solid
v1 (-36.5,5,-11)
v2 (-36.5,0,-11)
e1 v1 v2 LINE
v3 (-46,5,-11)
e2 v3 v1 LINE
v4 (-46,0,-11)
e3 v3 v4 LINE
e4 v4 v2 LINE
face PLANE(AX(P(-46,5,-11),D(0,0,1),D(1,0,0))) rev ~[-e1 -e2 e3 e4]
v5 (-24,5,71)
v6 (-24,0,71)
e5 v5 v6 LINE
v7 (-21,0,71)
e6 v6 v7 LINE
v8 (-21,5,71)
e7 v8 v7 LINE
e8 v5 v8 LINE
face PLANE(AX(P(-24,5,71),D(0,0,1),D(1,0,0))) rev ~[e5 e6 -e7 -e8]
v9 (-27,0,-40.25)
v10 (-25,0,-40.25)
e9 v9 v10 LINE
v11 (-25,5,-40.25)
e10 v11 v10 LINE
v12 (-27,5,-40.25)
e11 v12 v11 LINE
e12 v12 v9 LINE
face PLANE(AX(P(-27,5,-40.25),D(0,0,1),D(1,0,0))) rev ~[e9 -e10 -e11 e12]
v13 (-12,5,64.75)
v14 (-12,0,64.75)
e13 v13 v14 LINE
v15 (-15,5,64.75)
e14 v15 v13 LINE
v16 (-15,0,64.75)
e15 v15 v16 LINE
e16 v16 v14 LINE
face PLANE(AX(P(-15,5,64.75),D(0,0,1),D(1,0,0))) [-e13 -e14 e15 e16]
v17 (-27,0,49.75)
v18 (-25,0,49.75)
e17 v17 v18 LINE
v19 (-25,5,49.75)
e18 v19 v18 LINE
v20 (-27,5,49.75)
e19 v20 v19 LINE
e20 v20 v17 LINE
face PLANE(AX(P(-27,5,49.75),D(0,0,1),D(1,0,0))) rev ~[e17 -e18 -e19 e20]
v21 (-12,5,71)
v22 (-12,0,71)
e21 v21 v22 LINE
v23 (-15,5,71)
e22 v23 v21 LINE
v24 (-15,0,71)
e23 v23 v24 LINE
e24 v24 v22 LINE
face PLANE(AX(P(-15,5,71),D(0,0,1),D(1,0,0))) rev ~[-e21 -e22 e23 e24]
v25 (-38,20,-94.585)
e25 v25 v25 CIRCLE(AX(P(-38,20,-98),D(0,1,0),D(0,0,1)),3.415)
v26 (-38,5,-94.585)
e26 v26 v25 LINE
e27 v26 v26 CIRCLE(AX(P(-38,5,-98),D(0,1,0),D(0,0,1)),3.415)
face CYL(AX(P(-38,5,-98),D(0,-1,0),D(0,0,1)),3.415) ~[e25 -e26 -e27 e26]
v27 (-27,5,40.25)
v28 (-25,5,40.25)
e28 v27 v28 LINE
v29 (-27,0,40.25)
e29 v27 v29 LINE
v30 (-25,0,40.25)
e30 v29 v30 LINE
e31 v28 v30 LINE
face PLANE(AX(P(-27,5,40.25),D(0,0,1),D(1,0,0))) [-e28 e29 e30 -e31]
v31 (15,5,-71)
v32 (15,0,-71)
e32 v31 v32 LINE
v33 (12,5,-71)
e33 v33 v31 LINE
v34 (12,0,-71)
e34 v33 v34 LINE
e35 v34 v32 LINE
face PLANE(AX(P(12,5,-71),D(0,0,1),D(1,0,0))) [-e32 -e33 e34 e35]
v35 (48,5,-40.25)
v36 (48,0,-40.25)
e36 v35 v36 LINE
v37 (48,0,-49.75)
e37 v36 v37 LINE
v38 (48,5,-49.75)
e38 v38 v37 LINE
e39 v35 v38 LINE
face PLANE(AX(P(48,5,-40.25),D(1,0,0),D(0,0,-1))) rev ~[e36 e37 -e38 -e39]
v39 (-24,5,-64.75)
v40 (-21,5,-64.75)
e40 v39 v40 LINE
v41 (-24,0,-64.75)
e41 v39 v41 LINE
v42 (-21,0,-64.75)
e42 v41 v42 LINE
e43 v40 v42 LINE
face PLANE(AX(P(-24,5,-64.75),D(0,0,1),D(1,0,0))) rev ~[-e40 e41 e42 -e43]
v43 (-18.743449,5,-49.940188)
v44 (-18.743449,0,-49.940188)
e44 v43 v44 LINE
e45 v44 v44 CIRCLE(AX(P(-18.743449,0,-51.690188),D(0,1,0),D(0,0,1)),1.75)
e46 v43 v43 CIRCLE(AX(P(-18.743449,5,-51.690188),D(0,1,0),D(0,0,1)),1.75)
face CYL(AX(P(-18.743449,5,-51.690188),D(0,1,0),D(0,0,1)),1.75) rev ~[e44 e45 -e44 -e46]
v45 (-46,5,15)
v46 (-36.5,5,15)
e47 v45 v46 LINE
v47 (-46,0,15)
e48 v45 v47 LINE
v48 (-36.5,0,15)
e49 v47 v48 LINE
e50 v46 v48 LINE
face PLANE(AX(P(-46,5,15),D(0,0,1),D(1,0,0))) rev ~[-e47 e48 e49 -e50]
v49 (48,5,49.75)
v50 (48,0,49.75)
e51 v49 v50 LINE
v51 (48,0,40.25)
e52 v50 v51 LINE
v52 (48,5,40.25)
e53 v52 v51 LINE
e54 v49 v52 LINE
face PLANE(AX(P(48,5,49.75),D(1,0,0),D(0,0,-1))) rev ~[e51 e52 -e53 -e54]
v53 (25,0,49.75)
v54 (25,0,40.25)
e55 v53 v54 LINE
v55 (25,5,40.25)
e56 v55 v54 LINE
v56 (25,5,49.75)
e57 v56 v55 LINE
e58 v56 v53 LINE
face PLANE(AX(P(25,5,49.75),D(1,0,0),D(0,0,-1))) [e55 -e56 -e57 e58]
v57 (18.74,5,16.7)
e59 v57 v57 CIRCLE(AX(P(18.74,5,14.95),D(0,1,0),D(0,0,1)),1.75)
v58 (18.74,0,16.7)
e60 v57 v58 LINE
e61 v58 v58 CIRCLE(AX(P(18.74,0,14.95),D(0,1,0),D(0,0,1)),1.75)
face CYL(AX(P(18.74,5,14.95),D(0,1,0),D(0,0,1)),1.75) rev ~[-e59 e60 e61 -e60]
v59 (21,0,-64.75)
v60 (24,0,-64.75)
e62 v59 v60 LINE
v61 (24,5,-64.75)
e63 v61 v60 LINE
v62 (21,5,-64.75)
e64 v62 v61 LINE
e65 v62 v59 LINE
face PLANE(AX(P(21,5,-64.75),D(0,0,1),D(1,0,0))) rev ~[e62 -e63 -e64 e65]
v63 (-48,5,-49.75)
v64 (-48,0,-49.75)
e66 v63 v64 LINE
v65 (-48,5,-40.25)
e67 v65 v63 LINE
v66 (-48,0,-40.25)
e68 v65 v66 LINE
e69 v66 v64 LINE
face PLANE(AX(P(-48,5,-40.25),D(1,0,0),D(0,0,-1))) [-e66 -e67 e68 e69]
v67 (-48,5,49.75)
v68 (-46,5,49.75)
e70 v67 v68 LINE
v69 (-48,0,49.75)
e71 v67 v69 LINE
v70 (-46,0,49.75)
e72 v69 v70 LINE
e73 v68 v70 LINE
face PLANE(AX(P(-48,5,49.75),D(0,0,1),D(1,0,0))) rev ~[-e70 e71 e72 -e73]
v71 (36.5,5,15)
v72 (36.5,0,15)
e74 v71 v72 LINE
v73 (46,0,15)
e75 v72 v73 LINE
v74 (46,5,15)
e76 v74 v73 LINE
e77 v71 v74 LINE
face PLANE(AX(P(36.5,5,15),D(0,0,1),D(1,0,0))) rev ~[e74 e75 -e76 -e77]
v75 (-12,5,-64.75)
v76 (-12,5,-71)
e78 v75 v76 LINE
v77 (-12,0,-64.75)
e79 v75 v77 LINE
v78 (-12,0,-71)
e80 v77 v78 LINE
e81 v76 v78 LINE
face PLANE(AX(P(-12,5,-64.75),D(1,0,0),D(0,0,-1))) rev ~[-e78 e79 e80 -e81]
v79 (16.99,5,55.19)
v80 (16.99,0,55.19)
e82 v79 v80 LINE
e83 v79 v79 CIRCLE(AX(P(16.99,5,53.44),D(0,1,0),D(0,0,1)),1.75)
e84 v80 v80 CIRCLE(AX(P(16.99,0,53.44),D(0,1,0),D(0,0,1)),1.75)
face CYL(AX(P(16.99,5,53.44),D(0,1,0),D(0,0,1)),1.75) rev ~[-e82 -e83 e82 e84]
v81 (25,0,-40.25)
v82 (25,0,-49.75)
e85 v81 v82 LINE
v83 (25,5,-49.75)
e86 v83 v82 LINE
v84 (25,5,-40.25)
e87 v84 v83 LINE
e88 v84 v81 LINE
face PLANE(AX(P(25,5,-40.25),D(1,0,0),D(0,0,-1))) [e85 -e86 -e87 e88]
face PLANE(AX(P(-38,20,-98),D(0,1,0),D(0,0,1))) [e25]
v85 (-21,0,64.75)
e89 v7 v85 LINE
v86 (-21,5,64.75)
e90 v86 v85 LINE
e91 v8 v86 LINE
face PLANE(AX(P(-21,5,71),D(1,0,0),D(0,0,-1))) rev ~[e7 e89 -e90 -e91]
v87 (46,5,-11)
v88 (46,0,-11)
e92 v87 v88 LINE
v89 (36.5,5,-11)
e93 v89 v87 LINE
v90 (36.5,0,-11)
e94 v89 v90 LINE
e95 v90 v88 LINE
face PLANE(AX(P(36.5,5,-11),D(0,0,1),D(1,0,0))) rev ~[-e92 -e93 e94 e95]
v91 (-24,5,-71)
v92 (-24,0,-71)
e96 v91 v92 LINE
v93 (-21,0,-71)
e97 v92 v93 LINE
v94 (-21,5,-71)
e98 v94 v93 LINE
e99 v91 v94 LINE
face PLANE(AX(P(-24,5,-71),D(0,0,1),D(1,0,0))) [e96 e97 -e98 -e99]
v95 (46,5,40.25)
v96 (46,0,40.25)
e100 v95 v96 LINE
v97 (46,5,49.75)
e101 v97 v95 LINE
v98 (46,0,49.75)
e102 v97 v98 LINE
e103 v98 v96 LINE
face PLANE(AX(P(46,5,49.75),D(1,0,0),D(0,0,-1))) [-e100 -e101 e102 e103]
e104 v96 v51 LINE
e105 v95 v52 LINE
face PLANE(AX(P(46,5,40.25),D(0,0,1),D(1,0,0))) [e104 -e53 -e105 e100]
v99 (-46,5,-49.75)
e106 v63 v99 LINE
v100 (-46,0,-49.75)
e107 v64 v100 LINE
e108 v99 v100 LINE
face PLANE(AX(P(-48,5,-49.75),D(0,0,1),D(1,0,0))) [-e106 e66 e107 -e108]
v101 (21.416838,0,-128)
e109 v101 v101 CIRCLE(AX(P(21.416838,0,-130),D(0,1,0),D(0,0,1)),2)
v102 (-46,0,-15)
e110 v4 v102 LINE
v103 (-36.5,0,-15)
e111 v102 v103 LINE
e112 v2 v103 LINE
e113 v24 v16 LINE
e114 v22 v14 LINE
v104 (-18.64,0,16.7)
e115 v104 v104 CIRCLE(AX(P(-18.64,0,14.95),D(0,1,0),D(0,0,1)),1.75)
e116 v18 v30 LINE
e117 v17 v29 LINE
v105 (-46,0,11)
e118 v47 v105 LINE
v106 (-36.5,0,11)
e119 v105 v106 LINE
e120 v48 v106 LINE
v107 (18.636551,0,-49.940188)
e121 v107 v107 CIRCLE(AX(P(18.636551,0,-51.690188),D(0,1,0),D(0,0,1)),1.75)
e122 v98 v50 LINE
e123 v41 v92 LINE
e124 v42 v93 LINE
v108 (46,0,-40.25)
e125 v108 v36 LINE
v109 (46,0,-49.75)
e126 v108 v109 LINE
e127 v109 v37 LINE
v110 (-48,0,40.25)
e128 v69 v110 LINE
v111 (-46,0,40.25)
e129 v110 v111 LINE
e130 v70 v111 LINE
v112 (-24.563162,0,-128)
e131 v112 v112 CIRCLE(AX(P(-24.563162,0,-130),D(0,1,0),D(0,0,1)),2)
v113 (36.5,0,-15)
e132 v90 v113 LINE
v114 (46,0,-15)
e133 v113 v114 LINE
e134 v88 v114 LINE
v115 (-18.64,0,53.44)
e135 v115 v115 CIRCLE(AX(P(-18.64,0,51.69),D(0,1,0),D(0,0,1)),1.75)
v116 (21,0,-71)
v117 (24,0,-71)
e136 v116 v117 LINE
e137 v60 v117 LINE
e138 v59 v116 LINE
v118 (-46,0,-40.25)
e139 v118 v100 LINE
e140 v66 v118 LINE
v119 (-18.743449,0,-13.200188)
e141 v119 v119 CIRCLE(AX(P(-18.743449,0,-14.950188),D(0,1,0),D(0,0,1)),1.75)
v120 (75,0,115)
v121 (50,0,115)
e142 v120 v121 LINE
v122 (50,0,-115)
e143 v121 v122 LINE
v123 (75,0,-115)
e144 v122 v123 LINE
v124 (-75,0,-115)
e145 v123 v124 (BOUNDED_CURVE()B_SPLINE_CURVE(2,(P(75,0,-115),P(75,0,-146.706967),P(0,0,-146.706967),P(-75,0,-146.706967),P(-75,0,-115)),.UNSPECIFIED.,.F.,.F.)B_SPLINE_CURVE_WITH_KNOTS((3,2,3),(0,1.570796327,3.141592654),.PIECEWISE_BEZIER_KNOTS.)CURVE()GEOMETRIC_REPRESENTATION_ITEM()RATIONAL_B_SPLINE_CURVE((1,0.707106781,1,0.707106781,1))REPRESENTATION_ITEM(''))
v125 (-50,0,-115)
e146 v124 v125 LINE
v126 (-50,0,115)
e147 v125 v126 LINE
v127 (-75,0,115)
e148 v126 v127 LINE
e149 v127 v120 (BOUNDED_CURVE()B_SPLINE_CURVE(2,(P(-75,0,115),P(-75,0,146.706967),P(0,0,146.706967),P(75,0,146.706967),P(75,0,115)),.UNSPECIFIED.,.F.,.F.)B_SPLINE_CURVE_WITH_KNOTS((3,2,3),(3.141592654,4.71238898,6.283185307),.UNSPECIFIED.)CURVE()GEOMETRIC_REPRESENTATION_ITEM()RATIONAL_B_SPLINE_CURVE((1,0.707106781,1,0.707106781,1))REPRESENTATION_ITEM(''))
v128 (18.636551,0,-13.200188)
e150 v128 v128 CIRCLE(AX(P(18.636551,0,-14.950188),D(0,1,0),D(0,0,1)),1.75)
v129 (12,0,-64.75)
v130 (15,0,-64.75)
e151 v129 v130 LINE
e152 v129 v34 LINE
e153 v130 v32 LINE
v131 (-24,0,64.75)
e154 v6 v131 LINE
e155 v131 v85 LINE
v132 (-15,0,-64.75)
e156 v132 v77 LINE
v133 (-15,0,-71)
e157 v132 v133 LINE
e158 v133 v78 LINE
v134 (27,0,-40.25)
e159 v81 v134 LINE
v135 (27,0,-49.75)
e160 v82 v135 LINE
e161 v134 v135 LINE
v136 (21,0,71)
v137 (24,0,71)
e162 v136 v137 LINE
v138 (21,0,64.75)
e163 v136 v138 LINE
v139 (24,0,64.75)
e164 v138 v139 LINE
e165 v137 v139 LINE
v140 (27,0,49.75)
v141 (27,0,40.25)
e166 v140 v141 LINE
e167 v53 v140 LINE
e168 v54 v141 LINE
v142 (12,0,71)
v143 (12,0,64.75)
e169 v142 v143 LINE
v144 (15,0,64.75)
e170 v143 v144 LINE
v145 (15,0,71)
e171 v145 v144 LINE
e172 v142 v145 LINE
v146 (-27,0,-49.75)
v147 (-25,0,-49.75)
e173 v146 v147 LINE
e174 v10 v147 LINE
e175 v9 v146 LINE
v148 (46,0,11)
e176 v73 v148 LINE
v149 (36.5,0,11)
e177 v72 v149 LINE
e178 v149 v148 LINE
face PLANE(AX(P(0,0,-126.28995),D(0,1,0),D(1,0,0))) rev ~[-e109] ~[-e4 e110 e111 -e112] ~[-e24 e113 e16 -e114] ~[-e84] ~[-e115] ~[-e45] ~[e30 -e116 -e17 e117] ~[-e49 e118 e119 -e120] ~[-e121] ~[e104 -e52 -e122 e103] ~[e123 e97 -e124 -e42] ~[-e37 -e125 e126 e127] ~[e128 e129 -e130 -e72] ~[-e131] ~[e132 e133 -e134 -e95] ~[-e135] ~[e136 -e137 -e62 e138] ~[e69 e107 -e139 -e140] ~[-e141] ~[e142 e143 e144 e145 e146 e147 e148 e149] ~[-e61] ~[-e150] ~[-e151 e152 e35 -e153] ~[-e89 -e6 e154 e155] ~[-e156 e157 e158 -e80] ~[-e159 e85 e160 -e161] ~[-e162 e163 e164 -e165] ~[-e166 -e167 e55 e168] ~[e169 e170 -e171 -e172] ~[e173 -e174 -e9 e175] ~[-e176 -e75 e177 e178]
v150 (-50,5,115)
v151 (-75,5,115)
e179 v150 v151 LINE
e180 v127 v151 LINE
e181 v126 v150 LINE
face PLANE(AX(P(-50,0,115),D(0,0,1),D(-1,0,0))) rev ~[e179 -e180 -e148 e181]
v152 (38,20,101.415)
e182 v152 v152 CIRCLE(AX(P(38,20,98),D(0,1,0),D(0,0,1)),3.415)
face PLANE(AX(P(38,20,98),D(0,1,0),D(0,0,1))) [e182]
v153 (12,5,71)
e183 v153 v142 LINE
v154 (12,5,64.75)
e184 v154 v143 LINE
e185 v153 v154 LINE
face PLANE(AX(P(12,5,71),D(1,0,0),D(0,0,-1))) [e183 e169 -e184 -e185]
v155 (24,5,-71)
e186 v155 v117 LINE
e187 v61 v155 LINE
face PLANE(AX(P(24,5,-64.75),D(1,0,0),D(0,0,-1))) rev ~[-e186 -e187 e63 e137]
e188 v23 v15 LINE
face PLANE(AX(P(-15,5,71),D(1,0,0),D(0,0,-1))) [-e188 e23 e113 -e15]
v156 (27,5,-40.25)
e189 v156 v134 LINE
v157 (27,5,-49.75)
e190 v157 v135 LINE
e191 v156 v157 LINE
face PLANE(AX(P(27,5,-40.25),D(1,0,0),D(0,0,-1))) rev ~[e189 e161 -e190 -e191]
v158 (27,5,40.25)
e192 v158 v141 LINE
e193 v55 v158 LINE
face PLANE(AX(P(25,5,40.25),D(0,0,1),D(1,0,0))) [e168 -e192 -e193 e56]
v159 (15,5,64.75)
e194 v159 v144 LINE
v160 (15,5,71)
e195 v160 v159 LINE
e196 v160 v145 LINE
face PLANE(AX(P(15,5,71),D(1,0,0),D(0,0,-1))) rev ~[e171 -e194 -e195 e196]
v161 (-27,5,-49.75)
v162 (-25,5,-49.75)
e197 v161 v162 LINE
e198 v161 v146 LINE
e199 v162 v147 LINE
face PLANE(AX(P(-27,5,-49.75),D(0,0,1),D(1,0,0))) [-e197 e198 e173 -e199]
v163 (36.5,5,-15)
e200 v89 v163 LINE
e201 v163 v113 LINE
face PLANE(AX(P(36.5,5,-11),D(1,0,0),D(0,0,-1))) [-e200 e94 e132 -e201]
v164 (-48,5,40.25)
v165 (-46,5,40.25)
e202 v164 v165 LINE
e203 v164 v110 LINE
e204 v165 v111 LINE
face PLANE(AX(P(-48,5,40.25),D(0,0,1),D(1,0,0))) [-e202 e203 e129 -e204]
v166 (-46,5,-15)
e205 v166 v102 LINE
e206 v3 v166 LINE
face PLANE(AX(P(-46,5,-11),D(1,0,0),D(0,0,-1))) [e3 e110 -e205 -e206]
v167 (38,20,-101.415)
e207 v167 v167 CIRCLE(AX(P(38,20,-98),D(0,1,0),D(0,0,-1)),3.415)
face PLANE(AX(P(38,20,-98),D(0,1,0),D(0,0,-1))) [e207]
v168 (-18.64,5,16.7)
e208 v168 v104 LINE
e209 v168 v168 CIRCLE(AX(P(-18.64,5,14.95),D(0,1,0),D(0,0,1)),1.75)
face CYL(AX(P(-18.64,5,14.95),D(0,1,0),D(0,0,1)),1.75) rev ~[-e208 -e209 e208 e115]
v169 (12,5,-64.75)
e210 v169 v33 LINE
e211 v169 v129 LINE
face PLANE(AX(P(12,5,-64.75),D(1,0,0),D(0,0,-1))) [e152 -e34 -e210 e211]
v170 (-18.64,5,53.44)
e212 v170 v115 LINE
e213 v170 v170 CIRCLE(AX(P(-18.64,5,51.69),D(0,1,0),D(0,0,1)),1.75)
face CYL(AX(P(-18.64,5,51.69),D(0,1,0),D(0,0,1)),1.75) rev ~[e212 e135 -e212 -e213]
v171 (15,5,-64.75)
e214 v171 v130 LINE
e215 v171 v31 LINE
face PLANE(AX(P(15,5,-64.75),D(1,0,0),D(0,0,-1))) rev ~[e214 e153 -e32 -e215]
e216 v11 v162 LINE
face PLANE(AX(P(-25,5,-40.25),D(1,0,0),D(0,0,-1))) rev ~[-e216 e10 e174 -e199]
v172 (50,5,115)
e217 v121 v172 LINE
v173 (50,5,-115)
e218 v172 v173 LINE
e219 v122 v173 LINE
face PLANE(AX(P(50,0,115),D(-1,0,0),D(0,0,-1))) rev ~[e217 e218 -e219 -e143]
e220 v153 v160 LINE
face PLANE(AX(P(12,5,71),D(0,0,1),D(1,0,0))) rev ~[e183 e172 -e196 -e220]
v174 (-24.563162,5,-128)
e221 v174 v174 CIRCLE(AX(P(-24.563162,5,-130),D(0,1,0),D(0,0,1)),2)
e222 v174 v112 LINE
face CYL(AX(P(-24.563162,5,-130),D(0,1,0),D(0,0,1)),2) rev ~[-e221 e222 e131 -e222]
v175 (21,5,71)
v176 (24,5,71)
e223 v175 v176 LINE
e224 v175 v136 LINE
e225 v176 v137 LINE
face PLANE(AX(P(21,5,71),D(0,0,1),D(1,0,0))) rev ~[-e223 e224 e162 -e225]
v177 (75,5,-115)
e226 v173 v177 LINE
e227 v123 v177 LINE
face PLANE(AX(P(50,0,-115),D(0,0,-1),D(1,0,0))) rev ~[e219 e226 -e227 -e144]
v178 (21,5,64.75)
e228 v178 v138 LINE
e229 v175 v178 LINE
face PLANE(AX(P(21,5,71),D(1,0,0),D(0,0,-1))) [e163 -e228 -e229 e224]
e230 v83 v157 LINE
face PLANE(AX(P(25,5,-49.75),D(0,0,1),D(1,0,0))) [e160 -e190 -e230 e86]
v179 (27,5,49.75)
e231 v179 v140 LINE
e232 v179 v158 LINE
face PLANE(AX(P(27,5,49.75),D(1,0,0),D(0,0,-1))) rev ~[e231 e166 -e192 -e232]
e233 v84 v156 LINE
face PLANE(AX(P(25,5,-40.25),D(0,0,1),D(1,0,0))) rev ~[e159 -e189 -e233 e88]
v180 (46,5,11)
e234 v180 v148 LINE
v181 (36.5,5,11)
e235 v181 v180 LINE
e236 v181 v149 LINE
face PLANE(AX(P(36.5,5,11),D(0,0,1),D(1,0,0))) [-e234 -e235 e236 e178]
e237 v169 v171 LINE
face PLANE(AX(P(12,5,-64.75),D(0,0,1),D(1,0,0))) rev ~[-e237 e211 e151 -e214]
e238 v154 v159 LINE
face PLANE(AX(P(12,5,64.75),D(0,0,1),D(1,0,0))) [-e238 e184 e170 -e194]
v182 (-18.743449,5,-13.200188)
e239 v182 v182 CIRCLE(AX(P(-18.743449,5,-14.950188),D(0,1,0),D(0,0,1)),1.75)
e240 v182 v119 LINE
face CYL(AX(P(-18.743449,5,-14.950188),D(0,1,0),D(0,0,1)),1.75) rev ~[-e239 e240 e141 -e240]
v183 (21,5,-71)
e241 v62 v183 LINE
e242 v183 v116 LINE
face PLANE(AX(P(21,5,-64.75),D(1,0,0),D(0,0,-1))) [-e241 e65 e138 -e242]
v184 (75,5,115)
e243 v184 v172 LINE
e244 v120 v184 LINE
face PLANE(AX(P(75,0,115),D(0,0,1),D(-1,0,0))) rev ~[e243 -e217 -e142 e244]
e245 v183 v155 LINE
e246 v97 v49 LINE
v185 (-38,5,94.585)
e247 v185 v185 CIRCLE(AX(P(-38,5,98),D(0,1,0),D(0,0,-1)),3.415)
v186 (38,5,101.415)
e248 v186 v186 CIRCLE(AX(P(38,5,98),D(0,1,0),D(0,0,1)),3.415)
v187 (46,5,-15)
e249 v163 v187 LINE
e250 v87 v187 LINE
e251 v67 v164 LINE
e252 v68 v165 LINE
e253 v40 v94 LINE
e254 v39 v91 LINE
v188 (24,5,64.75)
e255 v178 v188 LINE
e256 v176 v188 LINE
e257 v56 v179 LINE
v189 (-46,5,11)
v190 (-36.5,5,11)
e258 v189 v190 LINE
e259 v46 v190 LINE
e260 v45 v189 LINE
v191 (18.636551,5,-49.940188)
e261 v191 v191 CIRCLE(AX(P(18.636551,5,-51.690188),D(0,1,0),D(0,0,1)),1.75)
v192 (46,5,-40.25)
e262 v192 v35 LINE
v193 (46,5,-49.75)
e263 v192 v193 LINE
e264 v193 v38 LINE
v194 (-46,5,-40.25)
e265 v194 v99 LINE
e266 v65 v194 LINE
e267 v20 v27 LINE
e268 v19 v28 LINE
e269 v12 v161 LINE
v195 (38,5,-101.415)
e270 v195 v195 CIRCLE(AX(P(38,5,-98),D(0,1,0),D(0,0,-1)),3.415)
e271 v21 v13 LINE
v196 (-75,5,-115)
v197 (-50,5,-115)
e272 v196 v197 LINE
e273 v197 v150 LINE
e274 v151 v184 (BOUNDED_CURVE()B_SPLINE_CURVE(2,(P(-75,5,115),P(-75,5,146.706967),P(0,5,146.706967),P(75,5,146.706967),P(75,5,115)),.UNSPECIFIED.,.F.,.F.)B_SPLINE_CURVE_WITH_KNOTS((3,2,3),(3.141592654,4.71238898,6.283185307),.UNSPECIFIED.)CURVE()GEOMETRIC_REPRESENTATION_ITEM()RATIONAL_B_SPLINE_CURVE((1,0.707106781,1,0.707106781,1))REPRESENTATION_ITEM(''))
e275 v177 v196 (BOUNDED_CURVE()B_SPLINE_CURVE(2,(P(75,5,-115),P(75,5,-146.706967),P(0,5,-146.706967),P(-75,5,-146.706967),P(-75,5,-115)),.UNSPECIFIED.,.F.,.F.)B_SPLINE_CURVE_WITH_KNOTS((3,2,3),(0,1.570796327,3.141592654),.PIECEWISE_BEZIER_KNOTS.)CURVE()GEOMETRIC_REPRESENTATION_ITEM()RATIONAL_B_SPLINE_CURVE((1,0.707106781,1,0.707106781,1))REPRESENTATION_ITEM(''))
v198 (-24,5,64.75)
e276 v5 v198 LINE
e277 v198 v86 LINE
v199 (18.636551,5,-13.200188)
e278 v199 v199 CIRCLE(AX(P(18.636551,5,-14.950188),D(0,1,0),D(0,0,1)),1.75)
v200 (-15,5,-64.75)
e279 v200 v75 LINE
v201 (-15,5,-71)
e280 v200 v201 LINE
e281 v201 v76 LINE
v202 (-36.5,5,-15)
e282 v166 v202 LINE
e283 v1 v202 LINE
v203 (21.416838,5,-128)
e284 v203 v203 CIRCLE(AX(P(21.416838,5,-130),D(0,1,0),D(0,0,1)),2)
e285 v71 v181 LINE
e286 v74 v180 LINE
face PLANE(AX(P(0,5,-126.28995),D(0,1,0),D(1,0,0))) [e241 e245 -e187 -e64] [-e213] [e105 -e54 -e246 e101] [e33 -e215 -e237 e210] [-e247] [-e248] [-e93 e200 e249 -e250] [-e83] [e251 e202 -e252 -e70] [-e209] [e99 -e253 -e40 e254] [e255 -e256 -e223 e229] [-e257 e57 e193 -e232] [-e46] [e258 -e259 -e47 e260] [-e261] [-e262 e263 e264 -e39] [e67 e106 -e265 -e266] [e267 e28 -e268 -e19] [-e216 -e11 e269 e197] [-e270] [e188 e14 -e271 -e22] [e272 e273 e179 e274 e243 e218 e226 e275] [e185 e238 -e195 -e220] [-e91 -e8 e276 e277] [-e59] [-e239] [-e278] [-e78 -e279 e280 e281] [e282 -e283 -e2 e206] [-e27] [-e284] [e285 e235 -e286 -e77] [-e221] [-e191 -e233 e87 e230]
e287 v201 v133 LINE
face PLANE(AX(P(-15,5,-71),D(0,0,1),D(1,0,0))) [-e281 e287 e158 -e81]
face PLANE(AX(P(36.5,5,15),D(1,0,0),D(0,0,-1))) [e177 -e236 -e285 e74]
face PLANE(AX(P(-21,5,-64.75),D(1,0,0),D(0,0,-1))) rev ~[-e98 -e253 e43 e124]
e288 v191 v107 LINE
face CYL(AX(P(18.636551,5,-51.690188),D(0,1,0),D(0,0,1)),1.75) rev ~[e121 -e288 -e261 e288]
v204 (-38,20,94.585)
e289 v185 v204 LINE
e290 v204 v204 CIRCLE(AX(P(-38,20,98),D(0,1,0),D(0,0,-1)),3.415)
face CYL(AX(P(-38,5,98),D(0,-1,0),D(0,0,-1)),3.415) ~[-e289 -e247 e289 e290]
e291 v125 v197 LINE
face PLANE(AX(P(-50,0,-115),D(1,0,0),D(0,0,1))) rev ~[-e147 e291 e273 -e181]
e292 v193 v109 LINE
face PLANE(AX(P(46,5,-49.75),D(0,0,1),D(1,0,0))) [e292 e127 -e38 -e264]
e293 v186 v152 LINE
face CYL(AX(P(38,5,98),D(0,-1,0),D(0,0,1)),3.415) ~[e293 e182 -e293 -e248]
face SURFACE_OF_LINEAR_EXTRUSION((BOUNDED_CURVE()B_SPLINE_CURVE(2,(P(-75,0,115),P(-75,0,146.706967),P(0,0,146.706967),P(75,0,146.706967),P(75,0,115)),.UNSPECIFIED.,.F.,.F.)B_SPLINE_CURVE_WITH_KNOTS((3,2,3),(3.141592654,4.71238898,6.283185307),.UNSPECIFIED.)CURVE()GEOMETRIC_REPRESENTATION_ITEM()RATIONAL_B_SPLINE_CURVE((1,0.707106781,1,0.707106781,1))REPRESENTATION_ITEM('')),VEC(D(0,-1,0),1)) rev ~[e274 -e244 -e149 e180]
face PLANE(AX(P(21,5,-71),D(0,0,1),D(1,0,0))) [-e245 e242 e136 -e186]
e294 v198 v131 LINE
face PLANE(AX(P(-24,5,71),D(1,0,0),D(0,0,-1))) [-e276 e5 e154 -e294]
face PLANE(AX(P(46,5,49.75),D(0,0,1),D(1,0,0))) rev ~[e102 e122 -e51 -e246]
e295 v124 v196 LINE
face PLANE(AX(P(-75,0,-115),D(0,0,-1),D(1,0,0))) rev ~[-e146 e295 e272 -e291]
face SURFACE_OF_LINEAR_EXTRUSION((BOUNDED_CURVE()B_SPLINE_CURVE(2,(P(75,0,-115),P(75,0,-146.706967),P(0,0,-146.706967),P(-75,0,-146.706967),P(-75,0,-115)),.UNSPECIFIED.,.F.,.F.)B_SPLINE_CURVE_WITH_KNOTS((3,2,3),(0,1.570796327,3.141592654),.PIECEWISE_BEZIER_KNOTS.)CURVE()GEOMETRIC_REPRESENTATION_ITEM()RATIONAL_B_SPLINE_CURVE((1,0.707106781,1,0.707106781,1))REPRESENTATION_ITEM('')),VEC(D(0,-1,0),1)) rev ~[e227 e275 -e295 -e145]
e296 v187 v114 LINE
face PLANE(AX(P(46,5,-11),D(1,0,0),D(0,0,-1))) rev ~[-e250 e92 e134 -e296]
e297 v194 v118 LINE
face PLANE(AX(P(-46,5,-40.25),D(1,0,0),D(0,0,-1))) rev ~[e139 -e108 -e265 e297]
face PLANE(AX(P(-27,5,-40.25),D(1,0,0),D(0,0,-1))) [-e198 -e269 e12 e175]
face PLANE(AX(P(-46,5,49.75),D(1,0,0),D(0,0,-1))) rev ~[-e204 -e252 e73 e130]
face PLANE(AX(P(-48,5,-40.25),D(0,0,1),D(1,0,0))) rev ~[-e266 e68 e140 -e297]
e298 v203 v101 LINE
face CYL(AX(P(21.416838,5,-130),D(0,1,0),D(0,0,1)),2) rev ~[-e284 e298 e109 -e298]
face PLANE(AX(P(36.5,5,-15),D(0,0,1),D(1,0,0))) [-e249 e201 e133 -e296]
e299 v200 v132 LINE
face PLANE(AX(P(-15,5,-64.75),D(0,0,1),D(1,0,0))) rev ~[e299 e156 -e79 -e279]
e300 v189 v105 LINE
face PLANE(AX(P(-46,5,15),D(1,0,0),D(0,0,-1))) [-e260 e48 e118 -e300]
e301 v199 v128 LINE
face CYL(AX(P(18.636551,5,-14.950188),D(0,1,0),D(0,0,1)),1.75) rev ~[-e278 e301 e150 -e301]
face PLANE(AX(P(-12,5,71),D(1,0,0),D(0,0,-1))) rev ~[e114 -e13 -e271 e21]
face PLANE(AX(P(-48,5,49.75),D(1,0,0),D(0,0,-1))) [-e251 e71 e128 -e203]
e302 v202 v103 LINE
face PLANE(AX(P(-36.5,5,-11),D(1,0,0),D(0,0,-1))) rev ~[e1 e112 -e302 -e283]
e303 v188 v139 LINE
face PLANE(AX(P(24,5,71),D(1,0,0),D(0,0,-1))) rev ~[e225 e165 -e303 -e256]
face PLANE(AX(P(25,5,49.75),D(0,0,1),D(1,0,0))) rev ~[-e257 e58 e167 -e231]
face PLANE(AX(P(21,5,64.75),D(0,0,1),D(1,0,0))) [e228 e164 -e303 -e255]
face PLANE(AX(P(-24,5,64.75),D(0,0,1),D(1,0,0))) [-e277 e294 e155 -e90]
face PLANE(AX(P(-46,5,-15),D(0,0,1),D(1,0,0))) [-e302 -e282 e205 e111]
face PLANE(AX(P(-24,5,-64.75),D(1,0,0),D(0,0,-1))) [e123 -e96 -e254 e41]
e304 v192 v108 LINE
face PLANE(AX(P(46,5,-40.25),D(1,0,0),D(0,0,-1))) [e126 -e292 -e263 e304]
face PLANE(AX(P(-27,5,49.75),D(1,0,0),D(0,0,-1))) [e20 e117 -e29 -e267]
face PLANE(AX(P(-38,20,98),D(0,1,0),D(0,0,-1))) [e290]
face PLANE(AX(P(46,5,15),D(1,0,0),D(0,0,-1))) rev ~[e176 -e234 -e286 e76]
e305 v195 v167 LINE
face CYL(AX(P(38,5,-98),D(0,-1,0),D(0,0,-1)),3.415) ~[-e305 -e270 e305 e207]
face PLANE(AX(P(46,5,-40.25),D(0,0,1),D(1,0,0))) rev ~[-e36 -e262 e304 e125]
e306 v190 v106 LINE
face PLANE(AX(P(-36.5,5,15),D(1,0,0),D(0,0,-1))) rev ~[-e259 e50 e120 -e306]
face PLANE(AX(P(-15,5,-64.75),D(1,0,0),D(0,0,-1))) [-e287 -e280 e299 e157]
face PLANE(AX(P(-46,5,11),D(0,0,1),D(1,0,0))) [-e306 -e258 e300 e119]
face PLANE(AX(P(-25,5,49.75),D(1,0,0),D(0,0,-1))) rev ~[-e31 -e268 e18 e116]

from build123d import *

# Parameters (mm, degrees)
BOSS_EXTRUDE10_DEPTH = 5
SKETCH9_W            = 2
SKETCH9_H            = 9.5
CUT_EXTRUDE2_DEPTH   = 165.842149126
SKETCH10_W           = 3
SKETCH10_H           = 6.25
CUT_EXTRUDE3_DEPTH   = 165.842149126
SKETCH11_W           = 9.5
SKETCH11_H           = 4
CUT_EXTRUDE4_DEPTH   = 165.842149126
SKETCH13_R           = 3.415
BOSS_EXTRUDE11_DEPTH = 15
SKETCH14_R           = 1.75
CUT_EXTRUDE5_DEPTH   = 166.447677915
SKETCH15_R           = 2
CUT_EXTRUDE6_DEPTH   = 166.447677915


with BuildPart() as part:
    # Sketch6 → Boss-Extrude10 (new body)
    with BuildSketch(Plane(origin=(0, 0, 0), x_dir=(1, 0, 0), z_dir=(0, 1, 0))):
        with BuildLine():
            Line((-75, 115), (-50, 115))
            Line((-50, 115), (50, 115))
            Line((50, 115), (75, 115))
            add(Edge.make_bspline(
                [(75, 115), (75, 146.706966716), (0, 146.706966716), (-75, 146.706966716), (-75, 115)],
                knots=[0, 0, 0, 1.570796327, 1.570796327, 3.141592654, 3.141592654, 3.141592654], degree=2, weights=[1, 0.707106781, 1, 0.707106781, 1]))
        make_face()
        with BuildLine():
            Line((-50, 115), (-50, 91.367022354))
            add(Edge.make_bspline(
                [(-50, 91.367022354), (0, 72.460640237), (50, 91.367022354)],
                knots=[3.982661324, 3.982661324, 3.982661324, 5.442116637, 5.442116637, 5.442116637], degree=2, weights=[1, 0.745355992, 1]))
            Line((50, 91.367022354), (50, 115))
            Line((50, 115), (-50, 115))
        make_face()
        with BuildLine():
            Line((-50, 91.367022354), (-50, -91.367022354))
            add(Edge.make_bspline(
                [(50, -91.367022354), (0, -72.460640237), (-50, -91.367022354)],
                knots=[0.841068671, 0.841068671, 0.841068671, 2.300523983, 2.300523983, 2.300523983], degree=2, weights=[1, 0.745355992, 1]))
            Line((50, -91.367022354), (50, 91.367022354))
            add(Edge.make_bspline(
                [(-50, 91.367022354), (0, 72.460640237), (50, 91.367022354)],
                knots=[3.982661324, 3.982661324, 3.982661324, 5.442116637, 5.442116637, 5.442116637], degree=2, weights=[1, 0.745355992, 1]))
        make_face()
        with BuildLine():
            Line((-50, -91.367022354), (-50, -115))
            Line((-50, -115), (50, -115))
            Line((50, -115), (50, -91.367022354))
            add(Edge.make_bspline(
                [(50, -91.367022354), (0, -72.460640237), (-50, -91.367022354)],
                knots=[0.841068671, 0.841068671, 0.841068671, 2.300523983, 2.300523983, 2.300523983], degree=2, weights=[1, 0.745355992, 1]))
        make_face()
        with BuildLine():
            Line((-50, -115), (-75, -115))
            add(Edge.make_bspline(
                [(-75, -115), (-75, -146.706966716), (0, -146.706966716), (75, -146.706966716), (75, -115)],
                knots=[3.141592654, 3.141592654, 3.141592654, 4.71238898, 4.71238898, 6.283185307, 6.283185307, 6.283185307], degree=2, weights=[1, 0.707106781, 1, 0.707106781, 1]))
            Line((75, -115), (50, -115))
            Line((50, -115), (-50, -115))
        make_face()
    extrude(amount=BOSS_EXTRUDE10_DEPTH)

    # Sketch9 → Cut-Extrude2 (cut, through all)
    with BuildSketch(Plane(origin=(0, 5, 0), x_dir=(1, 0, 0), z_dir=(0, 1, 0))):
        with Locations((-47, 45)):
            Rectangle(SKETCH9_W, SKETCH9_H)
        with Locations((-47, -45)):
            Rectangle(SKETCH9_W, SKETCH9_H)
        with Locations((47, 45)):
            Rectangle(SKETCH9_W, SKETCH9_H)
        with Locations((47, -45)):
            Rectangle(SKETCH9_W, SKETCH9_H)
        with Locations((-26, 45)):
            Rectangle(SKETCH9_W, SKETCH9_H)
        with Locations((-26, -45)):
            Rectangle(SKETCH9_W, SKETCH9_H)
        with Locations((26, -45)):
            Rectangle(SKETCH9_W, SKETCH9_H)
        with Locations((26, 45)):
            Rectangle(SKETCH9_W, SKETCH9_H)
    extrude(amount=-CUT_EXTRUDE2_DEPTH, mode=Mode.SUBTRACT)

    # Sketch10 → Cut-Extrude3 (cut, through all)
    with BuildSketch(Plane(origin=(0, 5, 0), x_dir=(1, 0, 0), z_dir=(0, 1, 0))):
        with Locations((-22.5, -67.875)):
            Rectangle(SKETCH10_W, SKETCH10_H)
        with Locations((-13.5, -67.875)):
            Rectangle(SKETCH10_W, SKETCH10_H)
        with Locations((13.5, -67.875)):
            Rectangle(SKETCH10_W, SKETCH10_H)
        with Locations((22.5, -67.875)):
            Rectangle(SKETCH10_W, SKETCH10_H)
        with Locations((22.5, 67.875)):
            Rectangle(SKETCH10_W, SKETCH10_H)
        with Locations((13.5, 67.875)):
            Rectangle(SKETCH10_W, SKETCH10_H)
        with Locations((-13.5, 67.875)):
            Rectangle(SKETCH10_W, SKETCH10_H)
        with Locations((-22.5, 67.875)):
            Rectangle(SKETCH10_W, SKETCH10_H)
    extrude(amount=-CUT_EXTRUDE3_DEPTH, mode=Mode.SUBTRACT)

    # Sketch11 → Cut-Extrude4 (cut, through all)
    with BuildSketch(Plane(origin=(0, 5, 0), x_dir=(1, 0, 0), z_dir=(0, 1, 0))):
        with Locations((41.25, -13)):
            Rectangle(SKETCH11_W, SKETCH11_H)
        with Locations((-41.25, -13)):
            Rectangle(SKETCH11_W, SKETCH11_H)
        with Locations((41.25, 13)):
            Rectangle(SKETCH11_W, SKETCH11_H)
        with Locations((-41.25, 13)):
            Rectangle(SKETCH11_W, SKETCH11_H)
    extrude(amount=-CUT_EXTRUDE4_DEPTH, mode=Mode.SUBTRACT)

    # Sketch13 → Boss-Extrude11 (add)
    with BuildSketch(Plane(origin=(0, 5, 0), x_dir=(1, 0, 0), z_dir=(0, 1, 0))):
        with Locations(Location((-38, 98, 0), (0, 0, 270))):
            Circle(SKETCH13_R)
        with Locations(Location((38, 98, 0), (0, 0, 90))):
            Circle(SKETCH13_R)
        with Locations(Location((38, -98, 0), (0, 0, 270))):
            Circle(SKETCH13_R)
        with Locations(Location((-38, -98, 0), (0, 0, 90))):
            Circle(SKETCH13_R)
    extrude(amount=BOSS_EXTRUDE11_DEPTH)

    # Sketch14 → Cut-Extrude5 (cut, through all)
    with BuildSketch(Plane(origin=(0, 5, 0), x_dir=(1, 0, 0), z_dir=(0, 1, 0))):
        with Locations(Location((-18.743448707, 14.950188424, 0), (0, 0, 270))):
            Circle(SKETCH14_R)
        with Locations(Location((-18.743448707, 51.690188424, 0), (0, 0, 270))):
            Circle(SKETCH14_R)
        with Locations(Location((18.636551293, 51.690188424, 0), (0, 0, 270))):
            Circle(SKETCH14_R)
        with Locations(Location((18.636551293, 14.950188424, 0), (0, 0, 270))):
            Circle(SKETCH14_R)
        with Locations(Location((-18.64, -51.69, 0), (0, 0, 270))):
            Circle(SKETCH14_R)
        with Locations(Location((-18.64, -14.95, 0), (0, 0, 270))):
            Circle(SKETCH14_R)
        with Locations(Location((18.74, -14.95, 0), (0, 0, 270))):
            Circle(SKETCH14_R)
        with Locations(Location((16.99, -53.44, 0), (0, 0, 270))):
            Circle(SKETCH14_R)
    extrude(amount=-CUT_EXTRUDE5_DEPTH, mode=Mode.SUBTRACT)

    # Sketch15 → Cut-Extrude6 (cut, through all)
    with BuildSketch(Plane(origin=(0, 5, 0), x_dir=(1, 0, 0), z_dir=(0, 1, 0))):
        with Locations(Location((-24.563162079, 130, 0), (0, 0, 270))):
            Circle(SKETCH15_R)
        with Locations(Location((21.416837921, 130, 0), (0, 0, 270))):
            Circle(SKETCH15_R)
    extrude(amount=-CUT_EXTRUDE6_DEPTH, mode=Mode.SUBTRACT)


solid = part.part
